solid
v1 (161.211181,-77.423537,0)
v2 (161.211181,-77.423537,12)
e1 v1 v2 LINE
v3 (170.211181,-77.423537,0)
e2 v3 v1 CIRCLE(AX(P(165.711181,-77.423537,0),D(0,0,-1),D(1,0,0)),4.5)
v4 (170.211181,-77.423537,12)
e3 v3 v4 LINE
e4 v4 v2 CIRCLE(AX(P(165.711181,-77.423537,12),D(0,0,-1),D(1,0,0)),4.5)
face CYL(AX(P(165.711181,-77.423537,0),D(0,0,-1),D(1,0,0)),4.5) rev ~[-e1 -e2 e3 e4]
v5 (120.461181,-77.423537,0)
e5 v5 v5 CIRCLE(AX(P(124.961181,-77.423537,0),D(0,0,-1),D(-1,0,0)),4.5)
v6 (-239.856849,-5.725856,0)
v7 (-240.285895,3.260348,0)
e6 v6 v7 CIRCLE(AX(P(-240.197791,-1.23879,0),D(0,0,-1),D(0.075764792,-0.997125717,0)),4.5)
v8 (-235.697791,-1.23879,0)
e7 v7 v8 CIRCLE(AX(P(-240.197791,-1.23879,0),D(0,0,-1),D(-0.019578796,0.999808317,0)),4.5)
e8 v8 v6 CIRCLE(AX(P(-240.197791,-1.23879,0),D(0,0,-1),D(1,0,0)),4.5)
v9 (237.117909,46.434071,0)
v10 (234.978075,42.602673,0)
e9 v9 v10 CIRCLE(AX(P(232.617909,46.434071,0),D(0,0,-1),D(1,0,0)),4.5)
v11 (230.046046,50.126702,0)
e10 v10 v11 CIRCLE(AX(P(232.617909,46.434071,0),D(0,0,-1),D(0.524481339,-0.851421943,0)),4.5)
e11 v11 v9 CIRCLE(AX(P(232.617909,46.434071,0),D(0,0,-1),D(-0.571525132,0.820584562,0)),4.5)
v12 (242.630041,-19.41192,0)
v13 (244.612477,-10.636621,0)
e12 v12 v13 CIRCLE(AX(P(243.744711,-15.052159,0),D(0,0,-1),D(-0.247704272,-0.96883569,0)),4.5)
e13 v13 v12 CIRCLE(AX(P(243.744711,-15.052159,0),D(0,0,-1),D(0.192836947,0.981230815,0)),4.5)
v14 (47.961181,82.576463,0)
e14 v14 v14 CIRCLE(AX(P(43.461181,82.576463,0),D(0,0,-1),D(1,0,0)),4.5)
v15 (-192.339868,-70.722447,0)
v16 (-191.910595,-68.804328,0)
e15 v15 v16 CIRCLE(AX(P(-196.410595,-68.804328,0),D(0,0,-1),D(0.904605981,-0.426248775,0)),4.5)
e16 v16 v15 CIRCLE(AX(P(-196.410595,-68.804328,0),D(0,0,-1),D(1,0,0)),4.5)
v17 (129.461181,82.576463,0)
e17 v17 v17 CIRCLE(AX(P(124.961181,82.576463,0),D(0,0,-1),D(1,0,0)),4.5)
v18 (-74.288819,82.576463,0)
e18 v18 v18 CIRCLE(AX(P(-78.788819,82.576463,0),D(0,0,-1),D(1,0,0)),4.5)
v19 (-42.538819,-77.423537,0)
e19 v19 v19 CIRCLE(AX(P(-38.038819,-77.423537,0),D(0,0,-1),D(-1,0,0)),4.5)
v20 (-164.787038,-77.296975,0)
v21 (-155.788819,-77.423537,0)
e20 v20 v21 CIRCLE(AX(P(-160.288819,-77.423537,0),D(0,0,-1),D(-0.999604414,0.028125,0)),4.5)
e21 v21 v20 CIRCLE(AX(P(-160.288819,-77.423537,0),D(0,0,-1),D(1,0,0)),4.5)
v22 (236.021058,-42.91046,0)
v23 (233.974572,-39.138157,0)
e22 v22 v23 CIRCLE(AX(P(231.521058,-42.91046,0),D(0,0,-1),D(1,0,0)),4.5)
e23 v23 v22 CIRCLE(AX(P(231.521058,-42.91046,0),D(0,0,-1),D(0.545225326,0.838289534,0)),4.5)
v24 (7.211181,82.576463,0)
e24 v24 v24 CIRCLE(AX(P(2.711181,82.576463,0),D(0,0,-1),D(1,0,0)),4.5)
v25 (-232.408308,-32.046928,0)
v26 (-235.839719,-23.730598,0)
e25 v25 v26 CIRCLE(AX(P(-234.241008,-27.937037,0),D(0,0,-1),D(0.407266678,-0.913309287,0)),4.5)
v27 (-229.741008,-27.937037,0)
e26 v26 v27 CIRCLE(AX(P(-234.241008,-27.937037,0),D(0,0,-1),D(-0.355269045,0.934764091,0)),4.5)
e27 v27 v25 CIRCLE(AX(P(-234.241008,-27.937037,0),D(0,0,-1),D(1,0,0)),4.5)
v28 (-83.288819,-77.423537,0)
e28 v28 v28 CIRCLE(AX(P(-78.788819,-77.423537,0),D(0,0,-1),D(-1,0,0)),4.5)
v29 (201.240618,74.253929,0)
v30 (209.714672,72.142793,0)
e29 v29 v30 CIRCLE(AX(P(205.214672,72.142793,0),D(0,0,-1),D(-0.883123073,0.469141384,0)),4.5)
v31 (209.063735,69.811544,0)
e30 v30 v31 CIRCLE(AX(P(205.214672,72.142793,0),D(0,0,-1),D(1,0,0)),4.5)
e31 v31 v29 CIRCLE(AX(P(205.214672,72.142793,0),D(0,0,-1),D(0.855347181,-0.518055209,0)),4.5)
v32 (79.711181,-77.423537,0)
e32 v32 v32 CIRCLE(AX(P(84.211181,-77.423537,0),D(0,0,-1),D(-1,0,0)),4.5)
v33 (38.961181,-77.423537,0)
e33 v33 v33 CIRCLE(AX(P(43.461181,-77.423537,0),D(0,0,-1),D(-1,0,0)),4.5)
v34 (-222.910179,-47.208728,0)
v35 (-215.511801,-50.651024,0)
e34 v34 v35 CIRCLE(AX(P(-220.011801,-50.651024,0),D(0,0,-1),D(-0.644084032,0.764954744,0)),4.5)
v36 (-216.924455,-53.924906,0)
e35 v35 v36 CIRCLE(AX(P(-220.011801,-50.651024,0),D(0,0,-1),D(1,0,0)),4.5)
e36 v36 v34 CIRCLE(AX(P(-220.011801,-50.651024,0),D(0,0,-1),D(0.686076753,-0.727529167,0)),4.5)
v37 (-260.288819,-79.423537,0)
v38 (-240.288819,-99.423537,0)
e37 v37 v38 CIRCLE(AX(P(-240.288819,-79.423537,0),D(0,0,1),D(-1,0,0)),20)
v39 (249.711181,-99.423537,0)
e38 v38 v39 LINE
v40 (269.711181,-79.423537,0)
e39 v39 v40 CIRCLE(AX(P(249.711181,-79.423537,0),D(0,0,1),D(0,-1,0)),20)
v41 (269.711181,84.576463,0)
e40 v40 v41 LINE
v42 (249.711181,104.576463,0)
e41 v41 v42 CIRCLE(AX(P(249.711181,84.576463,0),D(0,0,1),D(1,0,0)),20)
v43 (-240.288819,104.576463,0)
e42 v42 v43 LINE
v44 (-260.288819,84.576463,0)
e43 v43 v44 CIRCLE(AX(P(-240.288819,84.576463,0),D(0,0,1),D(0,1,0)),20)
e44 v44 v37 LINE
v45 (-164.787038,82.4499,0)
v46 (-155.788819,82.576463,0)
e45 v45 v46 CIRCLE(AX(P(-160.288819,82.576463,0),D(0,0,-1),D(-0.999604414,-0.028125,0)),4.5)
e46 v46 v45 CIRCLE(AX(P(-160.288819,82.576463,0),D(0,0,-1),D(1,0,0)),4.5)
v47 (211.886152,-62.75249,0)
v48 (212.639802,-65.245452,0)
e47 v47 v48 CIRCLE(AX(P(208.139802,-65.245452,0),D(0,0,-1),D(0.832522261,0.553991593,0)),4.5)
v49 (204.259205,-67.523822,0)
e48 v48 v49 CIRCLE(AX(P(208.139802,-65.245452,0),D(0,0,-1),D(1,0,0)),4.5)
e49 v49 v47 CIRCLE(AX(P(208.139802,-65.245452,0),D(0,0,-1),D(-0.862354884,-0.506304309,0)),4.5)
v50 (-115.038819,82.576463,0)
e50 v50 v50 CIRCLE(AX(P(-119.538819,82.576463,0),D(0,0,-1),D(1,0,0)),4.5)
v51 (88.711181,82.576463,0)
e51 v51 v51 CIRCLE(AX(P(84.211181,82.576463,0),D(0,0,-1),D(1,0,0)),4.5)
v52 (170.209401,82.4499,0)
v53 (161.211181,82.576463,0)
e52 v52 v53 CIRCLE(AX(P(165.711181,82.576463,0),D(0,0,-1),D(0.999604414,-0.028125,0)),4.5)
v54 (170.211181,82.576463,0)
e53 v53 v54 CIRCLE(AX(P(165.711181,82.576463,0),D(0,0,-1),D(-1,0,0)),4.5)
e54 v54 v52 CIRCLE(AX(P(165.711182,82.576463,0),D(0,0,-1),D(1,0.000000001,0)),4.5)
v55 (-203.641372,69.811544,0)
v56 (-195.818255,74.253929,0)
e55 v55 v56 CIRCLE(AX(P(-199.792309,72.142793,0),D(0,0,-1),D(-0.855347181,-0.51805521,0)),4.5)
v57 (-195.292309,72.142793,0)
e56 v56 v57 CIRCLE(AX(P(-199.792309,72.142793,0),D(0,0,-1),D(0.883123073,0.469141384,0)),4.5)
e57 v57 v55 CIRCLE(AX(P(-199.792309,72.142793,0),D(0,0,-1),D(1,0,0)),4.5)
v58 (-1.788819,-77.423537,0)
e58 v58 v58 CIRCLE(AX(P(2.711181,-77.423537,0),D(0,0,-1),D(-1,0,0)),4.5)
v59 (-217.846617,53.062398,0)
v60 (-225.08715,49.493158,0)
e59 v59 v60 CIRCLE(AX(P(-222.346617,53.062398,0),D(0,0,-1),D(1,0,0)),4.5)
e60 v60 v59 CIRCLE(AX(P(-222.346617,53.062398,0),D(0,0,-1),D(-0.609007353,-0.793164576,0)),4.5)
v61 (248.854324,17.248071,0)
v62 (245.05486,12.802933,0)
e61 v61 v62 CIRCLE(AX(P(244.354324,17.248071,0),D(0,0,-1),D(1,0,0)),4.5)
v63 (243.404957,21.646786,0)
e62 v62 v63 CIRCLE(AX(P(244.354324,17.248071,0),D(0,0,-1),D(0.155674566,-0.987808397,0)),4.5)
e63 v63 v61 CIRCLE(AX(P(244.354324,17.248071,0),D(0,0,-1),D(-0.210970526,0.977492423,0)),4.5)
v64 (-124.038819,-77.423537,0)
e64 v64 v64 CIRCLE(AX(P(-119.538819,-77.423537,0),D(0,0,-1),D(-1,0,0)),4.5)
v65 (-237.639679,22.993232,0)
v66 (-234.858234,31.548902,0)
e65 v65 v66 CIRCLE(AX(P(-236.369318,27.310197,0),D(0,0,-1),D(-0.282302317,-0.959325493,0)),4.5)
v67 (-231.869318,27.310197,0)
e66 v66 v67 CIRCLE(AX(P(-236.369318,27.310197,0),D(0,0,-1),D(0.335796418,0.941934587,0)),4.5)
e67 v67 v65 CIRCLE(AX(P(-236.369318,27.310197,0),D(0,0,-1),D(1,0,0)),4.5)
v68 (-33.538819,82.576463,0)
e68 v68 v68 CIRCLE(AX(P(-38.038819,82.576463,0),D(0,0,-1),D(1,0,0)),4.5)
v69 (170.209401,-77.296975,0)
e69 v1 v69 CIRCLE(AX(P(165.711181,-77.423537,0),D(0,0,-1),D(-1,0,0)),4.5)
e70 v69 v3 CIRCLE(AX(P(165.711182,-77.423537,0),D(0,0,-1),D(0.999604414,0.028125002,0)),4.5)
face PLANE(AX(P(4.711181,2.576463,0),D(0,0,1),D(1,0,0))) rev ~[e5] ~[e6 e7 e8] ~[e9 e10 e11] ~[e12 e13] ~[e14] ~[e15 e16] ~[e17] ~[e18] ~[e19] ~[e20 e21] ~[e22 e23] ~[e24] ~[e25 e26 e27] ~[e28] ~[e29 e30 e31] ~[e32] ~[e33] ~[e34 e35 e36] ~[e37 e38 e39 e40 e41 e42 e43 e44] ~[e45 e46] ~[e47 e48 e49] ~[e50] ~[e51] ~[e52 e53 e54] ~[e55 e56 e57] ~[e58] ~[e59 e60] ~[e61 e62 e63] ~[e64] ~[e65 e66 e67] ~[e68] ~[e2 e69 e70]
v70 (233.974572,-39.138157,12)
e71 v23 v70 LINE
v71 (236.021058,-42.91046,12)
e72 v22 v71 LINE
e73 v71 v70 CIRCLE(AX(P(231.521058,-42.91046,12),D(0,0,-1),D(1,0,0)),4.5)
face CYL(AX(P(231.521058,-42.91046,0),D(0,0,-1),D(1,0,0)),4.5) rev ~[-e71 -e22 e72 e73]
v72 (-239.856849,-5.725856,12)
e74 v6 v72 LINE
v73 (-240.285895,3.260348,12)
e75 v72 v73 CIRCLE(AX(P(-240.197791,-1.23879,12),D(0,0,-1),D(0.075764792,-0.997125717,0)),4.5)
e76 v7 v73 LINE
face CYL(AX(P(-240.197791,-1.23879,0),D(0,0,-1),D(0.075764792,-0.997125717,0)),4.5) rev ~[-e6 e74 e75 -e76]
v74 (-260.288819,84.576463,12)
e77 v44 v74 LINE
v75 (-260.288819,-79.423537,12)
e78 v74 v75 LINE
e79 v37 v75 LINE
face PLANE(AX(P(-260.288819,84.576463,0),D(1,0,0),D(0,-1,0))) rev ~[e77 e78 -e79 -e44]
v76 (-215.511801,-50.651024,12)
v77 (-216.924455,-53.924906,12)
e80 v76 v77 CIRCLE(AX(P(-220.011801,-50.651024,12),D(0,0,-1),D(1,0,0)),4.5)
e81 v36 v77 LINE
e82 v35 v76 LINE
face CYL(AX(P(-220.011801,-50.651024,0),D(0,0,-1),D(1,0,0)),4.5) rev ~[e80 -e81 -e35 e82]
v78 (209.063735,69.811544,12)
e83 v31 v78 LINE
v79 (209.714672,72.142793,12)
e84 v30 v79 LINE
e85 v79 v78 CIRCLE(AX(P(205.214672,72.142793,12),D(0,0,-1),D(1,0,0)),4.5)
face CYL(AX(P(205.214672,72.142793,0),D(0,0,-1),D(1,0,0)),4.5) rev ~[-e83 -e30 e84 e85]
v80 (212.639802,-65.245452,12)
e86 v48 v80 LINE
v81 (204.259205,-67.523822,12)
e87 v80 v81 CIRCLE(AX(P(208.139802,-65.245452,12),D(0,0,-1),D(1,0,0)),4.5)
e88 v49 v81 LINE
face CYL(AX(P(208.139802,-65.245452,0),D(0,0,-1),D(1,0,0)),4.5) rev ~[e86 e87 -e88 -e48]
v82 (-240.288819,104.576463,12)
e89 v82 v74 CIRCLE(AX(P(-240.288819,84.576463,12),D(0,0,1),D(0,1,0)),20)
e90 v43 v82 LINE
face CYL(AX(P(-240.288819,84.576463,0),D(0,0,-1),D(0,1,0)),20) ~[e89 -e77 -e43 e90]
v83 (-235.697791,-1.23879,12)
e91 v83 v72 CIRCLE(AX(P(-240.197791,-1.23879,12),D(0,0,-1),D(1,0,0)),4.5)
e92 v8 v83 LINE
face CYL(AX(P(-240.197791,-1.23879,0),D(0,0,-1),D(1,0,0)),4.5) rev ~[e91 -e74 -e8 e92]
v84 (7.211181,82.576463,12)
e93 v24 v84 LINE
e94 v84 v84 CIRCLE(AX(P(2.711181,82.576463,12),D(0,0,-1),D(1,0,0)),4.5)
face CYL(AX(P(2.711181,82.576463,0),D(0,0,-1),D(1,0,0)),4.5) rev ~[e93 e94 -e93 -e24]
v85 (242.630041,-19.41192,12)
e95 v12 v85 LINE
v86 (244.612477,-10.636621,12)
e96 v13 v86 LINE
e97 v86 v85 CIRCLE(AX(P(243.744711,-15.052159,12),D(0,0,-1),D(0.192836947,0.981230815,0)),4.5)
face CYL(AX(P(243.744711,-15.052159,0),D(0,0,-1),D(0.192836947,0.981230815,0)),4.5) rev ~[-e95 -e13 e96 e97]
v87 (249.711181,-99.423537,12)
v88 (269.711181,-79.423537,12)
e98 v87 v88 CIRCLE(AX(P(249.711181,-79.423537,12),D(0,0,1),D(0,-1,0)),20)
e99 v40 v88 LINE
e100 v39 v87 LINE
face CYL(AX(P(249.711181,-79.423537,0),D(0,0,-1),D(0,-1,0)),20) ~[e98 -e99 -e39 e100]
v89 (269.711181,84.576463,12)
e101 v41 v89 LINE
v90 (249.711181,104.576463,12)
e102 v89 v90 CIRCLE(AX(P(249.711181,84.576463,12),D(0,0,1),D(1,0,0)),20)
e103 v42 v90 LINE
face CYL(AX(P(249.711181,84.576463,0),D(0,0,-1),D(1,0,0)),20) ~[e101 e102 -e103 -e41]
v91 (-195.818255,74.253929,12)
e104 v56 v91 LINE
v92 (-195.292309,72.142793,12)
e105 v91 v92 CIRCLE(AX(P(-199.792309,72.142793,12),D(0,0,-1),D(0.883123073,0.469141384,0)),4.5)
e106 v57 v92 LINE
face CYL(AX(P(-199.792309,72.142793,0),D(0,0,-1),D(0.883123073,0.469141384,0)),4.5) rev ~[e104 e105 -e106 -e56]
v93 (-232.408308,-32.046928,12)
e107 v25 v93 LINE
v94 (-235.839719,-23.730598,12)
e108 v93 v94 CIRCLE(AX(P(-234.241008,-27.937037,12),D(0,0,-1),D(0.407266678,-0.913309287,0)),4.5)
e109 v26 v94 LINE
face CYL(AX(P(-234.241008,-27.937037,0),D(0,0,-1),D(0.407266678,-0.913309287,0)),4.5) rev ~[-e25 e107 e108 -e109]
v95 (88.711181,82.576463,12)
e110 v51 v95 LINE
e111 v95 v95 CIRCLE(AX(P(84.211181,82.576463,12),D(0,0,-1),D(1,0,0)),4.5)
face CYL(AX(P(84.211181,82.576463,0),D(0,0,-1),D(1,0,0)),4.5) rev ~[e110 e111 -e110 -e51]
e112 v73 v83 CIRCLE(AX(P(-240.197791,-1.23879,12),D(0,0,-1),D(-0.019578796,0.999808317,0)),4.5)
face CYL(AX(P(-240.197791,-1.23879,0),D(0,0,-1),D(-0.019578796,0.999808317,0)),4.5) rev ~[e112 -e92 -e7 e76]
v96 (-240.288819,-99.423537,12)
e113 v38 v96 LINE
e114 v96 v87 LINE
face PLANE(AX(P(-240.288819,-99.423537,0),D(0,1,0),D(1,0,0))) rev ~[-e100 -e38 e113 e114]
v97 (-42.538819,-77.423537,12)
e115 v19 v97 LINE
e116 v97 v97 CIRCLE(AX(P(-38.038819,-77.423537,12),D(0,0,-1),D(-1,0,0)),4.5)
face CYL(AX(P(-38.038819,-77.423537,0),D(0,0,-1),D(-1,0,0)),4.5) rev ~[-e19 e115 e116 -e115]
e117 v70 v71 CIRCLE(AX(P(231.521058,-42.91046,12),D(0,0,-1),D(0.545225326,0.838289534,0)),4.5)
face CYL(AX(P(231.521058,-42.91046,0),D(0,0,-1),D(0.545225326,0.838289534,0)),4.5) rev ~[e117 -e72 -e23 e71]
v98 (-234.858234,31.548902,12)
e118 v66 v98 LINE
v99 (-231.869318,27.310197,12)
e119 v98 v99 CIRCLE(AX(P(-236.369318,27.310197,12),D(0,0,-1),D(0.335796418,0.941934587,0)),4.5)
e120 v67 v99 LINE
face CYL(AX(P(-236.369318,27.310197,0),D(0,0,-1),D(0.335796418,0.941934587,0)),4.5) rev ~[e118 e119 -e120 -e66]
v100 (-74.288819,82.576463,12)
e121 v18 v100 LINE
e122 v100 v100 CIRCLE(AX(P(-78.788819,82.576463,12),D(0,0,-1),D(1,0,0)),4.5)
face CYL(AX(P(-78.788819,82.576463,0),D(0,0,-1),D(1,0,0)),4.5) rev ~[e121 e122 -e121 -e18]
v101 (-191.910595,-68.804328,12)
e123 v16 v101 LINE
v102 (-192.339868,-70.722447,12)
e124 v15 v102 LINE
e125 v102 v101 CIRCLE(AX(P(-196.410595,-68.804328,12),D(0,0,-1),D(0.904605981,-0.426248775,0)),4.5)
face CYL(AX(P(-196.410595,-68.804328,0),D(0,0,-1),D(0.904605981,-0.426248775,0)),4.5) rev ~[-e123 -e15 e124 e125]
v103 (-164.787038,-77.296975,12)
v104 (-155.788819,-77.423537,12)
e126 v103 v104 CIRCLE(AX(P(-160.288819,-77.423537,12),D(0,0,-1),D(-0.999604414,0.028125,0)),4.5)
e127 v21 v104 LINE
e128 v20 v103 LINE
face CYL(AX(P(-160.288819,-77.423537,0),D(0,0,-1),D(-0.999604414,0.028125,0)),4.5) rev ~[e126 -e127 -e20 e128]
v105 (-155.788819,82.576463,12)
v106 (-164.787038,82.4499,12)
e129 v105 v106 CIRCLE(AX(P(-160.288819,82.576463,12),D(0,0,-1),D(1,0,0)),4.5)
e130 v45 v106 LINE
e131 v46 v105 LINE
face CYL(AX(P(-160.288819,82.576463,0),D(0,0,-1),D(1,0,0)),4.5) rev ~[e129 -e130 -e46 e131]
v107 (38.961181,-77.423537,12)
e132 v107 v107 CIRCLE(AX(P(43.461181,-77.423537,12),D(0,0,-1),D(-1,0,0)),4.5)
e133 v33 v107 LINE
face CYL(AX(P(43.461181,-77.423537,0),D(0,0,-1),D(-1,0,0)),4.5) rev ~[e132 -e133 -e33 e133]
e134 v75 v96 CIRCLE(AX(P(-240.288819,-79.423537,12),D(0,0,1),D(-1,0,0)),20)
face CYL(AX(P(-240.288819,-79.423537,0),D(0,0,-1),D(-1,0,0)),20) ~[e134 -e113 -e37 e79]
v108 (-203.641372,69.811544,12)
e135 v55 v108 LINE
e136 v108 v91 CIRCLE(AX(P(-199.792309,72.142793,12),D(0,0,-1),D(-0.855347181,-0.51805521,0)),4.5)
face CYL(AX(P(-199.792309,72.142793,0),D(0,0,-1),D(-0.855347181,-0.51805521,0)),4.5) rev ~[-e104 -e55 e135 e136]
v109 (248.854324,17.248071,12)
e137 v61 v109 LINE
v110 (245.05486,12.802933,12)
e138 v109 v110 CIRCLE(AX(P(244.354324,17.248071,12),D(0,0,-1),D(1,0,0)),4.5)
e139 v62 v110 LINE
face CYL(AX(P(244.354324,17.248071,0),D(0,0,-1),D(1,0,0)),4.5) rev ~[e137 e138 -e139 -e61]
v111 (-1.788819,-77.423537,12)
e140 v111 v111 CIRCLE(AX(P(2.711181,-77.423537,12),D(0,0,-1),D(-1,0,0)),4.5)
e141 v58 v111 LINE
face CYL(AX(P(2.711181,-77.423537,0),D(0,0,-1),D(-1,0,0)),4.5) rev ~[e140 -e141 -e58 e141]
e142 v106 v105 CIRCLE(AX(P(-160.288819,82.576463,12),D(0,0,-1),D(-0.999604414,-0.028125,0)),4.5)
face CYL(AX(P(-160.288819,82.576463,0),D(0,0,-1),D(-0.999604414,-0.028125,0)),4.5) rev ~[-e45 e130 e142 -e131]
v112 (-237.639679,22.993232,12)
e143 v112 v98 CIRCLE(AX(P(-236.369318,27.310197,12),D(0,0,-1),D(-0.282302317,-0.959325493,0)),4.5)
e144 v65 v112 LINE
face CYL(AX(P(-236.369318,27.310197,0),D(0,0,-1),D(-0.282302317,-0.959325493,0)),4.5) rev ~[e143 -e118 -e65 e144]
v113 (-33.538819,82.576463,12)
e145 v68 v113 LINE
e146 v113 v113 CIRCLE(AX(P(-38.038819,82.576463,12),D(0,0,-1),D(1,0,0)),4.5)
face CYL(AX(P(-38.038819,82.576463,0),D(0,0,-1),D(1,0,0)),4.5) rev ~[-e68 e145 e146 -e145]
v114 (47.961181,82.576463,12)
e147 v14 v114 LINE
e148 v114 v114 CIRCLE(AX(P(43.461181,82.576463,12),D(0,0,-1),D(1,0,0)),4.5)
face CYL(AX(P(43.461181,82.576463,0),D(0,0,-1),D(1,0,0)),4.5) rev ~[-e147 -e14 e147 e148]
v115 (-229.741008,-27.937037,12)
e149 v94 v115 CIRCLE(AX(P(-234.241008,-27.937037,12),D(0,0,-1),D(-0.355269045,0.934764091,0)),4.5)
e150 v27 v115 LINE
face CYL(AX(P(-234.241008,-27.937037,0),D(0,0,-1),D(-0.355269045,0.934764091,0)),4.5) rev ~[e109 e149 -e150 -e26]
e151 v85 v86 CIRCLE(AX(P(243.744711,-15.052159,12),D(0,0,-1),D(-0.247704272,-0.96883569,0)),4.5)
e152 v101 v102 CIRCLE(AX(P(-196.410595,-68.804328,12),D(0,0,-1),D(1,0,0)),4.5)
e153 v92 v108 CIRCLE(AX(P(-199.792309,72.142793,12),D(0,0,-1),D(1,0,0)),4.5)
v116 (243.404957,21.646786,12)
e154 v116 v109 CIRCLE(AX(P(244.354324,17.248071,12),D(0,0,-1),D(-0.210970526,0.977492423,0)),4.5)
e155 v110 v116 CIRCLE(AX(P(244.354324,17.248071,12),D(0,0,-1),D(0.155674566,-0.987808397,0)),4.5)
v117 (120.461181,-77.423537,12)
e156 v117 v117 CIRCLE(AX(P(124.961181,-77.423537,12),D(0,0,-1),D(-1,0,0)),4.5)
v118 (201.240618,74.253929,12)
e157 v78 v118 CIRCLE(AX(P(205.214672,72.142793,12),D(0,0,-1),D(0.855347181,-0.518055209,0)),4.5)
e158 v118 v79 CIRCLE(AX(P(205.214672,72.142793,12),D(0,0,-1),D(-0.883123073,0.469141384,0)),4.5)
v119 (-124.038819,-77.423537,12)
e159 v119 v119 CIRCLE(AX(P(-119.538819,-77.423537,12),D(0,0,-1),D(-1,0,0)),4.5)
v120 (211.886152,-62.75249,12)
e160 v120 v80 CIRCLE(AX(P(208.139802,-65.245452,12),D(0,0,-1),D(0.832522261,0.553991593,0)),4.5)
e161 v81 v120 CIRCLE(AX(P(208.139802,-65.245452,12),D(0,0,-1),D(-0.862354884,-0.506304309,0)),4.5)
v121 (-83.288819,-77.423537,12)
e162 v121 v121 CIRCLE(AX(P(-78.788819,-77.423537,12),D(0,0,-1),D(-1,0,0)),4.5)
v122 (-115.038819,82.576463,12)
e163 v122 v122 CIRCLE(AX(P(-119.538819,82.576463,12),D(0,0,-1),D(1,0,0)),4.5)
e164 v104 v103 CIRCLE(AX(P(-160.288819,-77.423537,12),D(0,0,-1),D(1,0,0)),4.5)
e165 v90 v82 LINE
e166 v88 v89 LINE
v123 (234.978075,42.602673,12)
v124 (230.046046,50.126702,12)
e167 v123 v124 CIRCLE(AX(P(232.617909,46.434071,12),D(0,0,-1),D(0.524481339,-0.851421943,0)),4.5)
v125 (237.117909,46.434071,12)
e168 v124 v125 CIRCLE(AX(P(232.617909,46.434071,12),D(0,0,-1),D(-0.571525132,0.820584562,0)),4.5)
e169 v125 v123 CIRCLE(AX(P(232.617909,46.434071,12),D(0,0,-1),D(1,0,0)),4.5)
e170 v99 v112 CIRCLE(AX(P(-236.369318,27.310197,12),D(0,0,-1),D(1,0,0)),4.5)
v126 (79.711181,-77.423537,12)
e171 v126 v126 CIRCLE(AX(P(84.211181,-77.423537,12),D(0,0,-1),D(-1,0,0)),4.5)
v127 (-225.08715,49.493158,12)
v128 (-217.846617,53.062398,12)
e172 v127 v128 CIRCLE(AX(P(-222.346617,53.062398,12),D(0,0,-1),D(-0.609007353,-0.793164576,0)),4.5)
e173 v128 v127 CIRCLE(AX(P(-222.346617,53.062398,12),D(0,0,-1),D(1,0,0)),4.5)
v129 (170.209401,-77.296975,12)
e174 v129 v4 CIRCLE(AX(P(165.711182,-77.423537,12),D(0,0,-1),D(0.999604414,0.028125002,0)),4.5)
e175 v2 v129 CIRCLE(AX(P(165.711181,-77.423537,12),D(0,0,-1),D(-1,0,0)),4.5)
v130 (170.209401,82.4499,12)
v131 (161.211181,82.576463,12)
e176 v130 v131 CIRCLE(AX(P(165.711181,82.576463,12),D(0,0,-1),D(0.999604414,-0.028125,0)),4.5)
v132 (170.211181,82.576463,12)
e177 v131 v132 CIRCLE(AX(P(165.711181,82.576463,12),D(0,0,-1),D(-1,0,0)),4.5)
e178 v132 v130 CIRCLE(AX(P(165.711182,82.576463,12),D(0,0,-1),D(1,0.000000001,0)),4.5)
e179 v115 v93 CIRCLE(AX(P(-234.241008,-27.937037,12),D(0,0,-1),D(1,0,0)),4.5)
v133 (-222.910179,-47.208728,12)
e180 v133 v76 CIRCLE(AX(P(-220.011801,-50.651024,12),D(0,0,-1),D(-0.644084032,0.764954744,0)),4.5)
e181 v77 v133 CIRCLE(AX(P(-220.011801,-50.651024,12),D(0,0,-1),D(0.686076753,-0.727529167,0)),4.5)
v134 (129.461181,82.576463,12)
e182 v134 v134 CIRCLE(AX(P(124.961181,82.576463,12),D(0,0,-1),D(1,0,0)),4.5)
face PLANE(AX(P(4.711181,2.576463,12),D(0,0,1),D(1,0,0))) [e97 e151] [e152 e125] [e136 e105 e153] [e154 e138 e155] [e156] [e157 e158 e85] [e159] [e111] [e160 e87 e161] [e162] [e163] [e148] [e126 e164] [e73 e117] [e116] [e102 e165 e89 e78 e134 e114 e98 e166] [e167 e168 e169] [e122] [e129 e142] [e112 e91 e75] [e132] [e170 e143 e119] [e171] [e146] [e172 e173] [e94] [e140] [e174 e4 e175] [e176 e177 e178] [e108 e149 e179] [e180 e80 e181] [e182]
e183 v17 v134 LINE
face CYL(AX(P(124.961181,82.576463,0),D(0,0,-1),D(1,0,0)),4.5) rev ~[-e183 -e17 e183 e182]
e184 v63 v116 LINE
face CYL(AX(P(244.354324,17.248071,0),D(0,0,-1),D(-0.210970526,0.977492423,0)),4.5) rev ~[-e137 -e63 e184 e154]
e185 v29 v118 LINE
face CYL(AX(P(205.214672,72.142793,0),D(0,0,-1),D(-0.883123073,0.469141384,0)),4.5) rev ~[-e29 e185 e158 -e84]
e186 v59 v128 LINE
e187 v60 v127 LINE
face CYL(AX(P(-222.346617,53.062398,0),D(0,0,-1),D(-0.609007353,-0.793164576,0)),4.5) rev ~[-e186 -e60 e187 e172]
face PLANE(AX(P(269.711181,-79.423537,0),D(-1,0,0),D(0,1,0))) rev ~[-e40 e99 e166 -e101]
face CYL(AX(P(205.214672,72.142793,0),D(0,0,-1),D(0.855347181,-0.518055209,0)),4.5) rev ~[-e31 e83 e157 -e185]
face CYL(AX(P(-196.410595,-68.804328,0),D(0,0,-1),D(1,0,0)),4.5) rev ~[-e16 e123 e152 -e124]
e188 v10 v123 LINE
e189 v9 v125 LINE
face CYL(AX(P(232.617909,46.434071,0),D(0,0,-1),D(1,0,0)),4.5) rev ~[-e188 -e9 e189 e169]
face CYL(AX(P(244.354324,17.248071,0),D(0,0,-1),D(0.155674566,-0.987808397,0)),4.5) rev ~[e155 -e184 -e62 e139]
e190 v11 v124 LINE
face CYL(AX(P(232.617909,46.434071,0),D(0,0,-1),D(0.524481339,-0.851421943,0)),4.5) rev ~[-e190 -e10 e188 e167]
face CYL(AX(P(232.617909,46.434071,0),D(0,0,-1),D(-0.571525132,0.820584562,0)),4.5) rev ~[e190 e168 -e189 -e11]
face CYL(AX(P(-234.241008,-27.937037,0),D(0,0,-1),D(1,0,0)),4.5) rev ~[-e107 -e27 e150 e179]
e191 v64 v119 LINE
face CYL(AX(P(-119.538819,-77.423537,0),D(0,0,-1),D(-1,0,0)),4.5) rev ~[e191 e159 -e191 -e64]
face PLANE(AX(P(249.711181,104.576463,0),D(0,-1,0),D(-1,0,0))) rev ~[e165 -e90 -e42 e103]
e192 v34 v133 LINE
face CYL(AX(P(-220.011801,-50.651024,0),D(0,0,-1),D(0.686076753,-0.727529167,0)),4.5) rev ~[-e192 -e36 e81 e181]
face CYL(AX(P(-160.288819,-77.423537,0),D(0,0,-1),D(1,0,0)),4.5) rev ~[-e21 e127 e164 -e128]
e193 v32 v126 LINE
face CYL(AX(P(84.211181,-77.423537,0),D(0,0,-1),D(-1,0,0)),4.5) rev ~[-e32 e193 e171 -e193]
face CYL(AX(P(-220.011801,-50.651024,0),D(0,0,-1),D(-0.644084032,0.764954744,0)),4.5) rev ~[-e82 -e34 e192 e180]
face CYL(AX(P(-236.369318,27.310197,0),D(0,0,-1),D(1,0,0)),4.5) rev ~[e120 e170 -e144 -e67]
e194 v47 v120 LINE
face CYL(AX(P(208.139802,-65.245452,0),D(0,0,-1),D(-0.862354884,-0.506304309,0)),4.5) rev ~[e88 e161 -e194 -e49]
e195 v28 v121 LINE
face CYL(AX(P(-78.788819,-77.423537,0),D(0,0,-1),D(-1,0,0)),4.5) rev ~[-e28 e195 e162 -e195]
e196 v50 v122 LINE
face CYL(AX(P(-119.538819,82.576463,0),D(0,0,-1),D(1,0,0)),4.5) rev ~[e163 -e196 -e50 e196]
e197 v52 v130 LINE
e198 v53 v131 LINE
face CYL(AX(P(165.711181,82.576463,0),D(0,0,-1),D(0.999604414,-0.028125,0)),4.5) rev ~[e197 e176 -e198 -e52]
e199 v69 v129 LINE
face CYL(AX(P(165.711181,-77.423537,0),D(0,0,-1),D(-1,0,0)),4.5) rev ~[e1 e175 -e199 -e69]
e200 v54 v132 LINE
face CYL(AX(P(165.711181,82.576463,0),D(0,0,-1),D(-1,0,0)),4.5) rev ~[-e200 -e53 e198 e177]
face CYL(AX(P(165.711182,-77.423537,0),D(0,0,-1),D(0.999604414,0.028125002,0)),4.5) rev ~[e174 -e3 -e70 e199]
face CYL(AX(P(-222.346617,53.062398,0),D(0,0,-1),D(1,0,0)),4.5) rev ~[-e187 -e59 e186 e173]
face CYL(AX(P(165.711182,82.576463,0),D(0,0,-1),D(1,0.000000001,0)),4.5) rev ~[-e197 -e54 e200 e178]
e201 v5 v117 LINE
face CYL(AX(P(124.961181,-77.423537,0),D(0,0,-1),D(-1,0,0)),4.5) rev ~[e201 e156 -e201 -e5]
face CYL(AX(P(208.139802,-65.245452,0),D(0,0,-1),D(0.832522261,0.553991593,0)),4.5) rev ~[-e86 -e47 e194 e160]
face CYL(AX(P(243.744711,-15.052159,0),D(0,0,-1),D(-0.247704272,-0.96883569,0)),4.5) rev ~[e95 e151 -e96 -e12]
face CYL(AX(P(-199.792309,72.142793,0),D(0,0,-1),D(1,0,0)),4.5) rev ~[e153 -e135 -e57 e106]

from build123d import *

# Parameters (mm, degrees)
F1_DEPTH = 12


with BuildPart() as f1:
    # F0 (on Top) → F1 (new body)
    with BuildSketch(Plane.XY):
        with BuildLine():
            ThreePointArc((269.7111814663, 84.576462953), (263.85331709, 98.7185985767), (249.7111814663, 104.576462953))
            Line((249.7111814663, 104.576462953), (-240.2888185337, 104.576462953))
            ThreePointArc((-240.2888185337, 104.576462953), (-254.4309541574, 98.7185985767), (-260.2888185337, 84.576462953))
            Line((-260.2888185337, 84.576462953), (-260.2888185337, -79.423537047))
            ThreePointArc((-260.2888185337, -79.423537047), (-254.4309541574, -93.5656726707), (-240.2888185337, -99.423537047))
            Line((-240.2888185337, -99.423537047), (249.7111814663, -99.423537047))
            ThreePointArc((249.7111814663, -99.423537047), (263.85331709, -93.5656726707), (269.7111814663, -79.423537047))
            Line((269.7111814663, -79.423537047), (269.7111814663, 84.576462953))
        make_face()
        with BuildLine():
            ThreePointArc((204.2592047464, -67.5238216484), (187.7820534829, -74.3187684234), (170.209401329, -77.296974547))
            ThreePointArc((170.209401329, -77.296974547), (170.21073641, -77.3602495378), (170.2111814663, -77.423537047))
            ThreePointArc((170.2111814663, -77.423537047), (165.7111814663, -81.923537047), (161.2111814663, -77.423537047))
            Line((161.2111814663, -77.423537047), (129.4611814663, -77.423537047))
            ThreePointArc((129.4611814663, -77.423537047), (124.9611814663, -81.923537047), (120.4611814663, -77.423537047))
            Line((120.4611814663, -77.423537047), (88.7111814663, -77.423537047))
            ThreePointArc((88.7111814663, -77.423537047), (84.2111814663, -81.923537047), (79.7111814663, -77.423537047))
            Line((79.7111814663, -77.423537047), (47.9611814663, -77.423537047))
            ThreePointArc((47.9611814663, -77.423537047), (43.4611814663, -81.923537047), (38.9611814663, -77.423537047))
            Line((38.9611814663, -77.423537047), (7.2111814663, -77.423537047))
            ThreePointArc((7.2111814663, -77.423537047), (2.7111814663, -81.923537047), (-1.7888185337, -77.423537047))
            Line((-1.7888185337, -77.423537047), (-33.5388185337, -77.423537047))
            ThreePointArc((-33.5388185337, -77.423537047), (-38.0388185337, -81.923537047), (-42.5388185337, -77.423537047))
            Line((-42.5388185337, -77.423537047), (-74.2888185337, -77.423537047))
            ThreePointArc((-74.2888185337, -77.423537047), (-78.7888185337, -81.923537047), (-83.2888185337, -77.423537047))
            Line((-83.2888185337, -77.423537047), (-115.0388185337, -77.423537047))
            ThreePointArc((-115.0388185337, -77.423537047), (-119.5388185337, -81.923537047), (-124.0388185337, -77.423537047))
            Line((-124.0388185337, -77.423537047), (-155.7888185337, -77.423537047))
            ThreePointArc((-155.7888185337, -77.423537047), (-160.3521060429, -81.9230919907), (-164.7870383965, -77.296974547))
            ThreePointArc((-164.7870383965, -77.296974547), (-178.856757772, -75.2389059174), (-192.3398676419, -70.7224473463))
            ThreePointArc((-192.3398676419, -70.7224473463), (-198.4424444599, -72.8194973412), (-200.3670299181, -66.6603550865))
            ThreePointArc((-200.3670299181, -66.6603550865), (-209.0631972198, -60.8353654687), (-216.9244551496, -53.9249057482))
            ThreePointArc((-216.9244551496, -53.9249057482), (-223.3712182775, -53.6450706668), (-222.910178682, -47.2087281501))
            ThreePointArc((-222.910178682, -47.2087281501), (-228.0844244719, -39.8941835628), (-232.4083080485, -32.0469284483))
            ThreePointArc((-232.4083080485, -32.0469284483), (-238.4008187619, -29.6534210114), (-235.8397187993, -23.7305982484))
            ThreePointArc((-235.8397187993, -23.7305982484), (-238.3689912687, -14.8444045821), (-239.8568492175, -5.7258555844))
            ThreePointArc((-239.8568492175, -5.7258555844), (-244.6926704724, -1.4533978268), (-240.2858953667, 3.2603475702))
            ThreePointArc((-240.2858953667, 3.2603475702), (-239.5790448432, 13.209431108), (-237.6396785358, 22.9932319661))
            ThreePointArc((-237.6396785358, 22.9932319661), (-240.6488462104, 28.7014692077), (-234.858234227, 31.548902325))
            ThreePointArc((-234.858234227, 31.548902325), (-230.54791978, 40.8342555195), (-225.0871499348, 49.4931577176))
            ThreePointArc((-225.0871499348, 49.4931577176), (-225.8373680011, 55.9022321713), (-219.4097290048, 56.4718982428))
            ThreePointArc((-219.4097290048, 56.4718982428), (-211.9578539541, 63.65273313), (-203.641371616, 69.8115441327))
            ThreePointArc((-203.641371616, 69.8115441327), (-202.0143806576, 76.0558986167), (-195.8182554739, 74.2539288033))
            ThreePointArc((-195.8182554739, 74.2539288033), (-180.7178864298, 79.9240756175), (-164.7870383965, 82.449900453))
            ThreePointArc((-164.7870383965, 82.449900453), (-160.3521060429, 87.0760178967), (-155.7888185337, 82.576462953))
            Line((-155.7888185337, 82.576462953), (-124.0388185337, 82.576462953))
            ThreePointArc((-124.0388185337, 82.576462953), (-119.5388185337, 87.076462953), (-115.0388185337, 82.576462953))
            Line((-115.0388185337, 82.576462953), (-83.2888185337, 82.576462953))
            ThreePointArc((-83.2888185337, 82.576462953), (-78.7888185337, 87.076462953), (-74.2888185337, 82.576462953))
            Line((-74.2888185337, 82.576462953), (-42.5388185337, 82.576462953))
            ThreePointArc((-42.5388185337, 82.576462953), (-38.0388185337, 87.076462953), (-33.5388185337, 82.576462953))
            Line((-33.5388185337, 82.576462953), (-1.7888185337, 82.576462953))
            ThreePointArc((-1.7888185337, 82.576462953), (2.7111814663, 87.076462953), (7.2111814663, 82.576462953))
            Line((7.2111814663, 82.576462953), (38.9611814663, 82.576462953))
            ThreePointArc((38.9611814663, 82.576462953), (43.4611814663, 87.076462953), (47.9611814663, 82.576462953))
            Line((47.9611814663, 82.576462953), (79.7111814663, 82.576462953))
            ThreePointArc((79.7111814663, 82.576462953), (84.2111814663, 87.076462953), (88.7111814663, 82.576462953))
            Line((88.7111814663, 82.576462953), (120.4611814663, 82.576462953))
            ThreePointArc((120.4611814663, 82.576462953), (124.9611814663, 87.076462953), (129.4611814663, 82.576462953))
            Line((129.4611814663, 82.576462953), (161.2111814663, 82.576462953))
            ThreePointArc((161.2111814663, 82.576462953), (165.7111814663, 87.076462953), (170.2111814663, 82.576462953))
            ThreePointArc((170.2111814663, 82.576462953), (170.21073641, 82.5131754438), (170.209401329, 82.449900453))
            ThreePointArc((170.209401329, 82.449900453), (186.1402493624, 79.9240756175), (201.2406184065, 74.2539288033))
            ThreePointArc((201.2406184065, 74.2539288033), (206.3025044306, 76.5093267975), (209.7146722344, 72.1427925754))
            ThreePointArc((209.7146722344, 72.1427925754), (209.548883836, 70.9325819355), (209.0637345486, 69.8115441327))
            ThreePointArc((209.0637345486, 69.8115441327), (220.4470767175, 60.920115316), (230.0460459315, 50.1267017983))
            ThreePointArc((230.0460459315, 50.1267017983), (234.700769568, 50.4230174915), (237.1179090261, 46.4340712694))
            ThreePointArc((237.1179090261, 46.4340712694), (236.546696824, 44.2398455656), (234.978075053, 42.6026725268))
            ThreePointArc((234.978075053, 42.6026725268), (239.9348088399, 32.4236259589), (243.4049570386, 21.6467864249))
            ThreePointArc((243.4049570386, 21.6467864249), (247.1807927716, 20.7496525315), (248.8543244056, 17.2480705211))
            ThreePointArc((248.8543244056, 17.2480705211), (247.7750268162, 14.3242382724), (245.0548599531, 12.8029327339))
            ThreePointArc((245.0548599531, 12.8029327339), (245.6969371267, 1.0668631961), (244.6124768813, -10.6366207839))
            ThreePointArc((244.6124768813, -10.6366207839), (247.2199766655, -12.1933964467), (248.2447106198, -15.0521594505))
            ThreePointArc((248.2447106198, -15.0521594505), (246.5046008793, -18.6064534388), (242.6300413951, -19.4119200539))
            ThreePointArc((242.6300413951, -19.4119200539), (238.9693043271, -29.5677034681), (233.9745719527, -39.1381570176))
            ThreePointArc((233.9745719527, -39.1381570176), (235.476485449, -40.7646282491), (236.0210579843, -42.9104599226))
            ThreePointArc((236.0210579843, -42.9104599226), (233.5547943992, -46.9246741912), (228.8593174534, -46.5388393606))
            ThreePointArc((228.8593174534, -46.5388393606), (220.9706242506, -55.2715619326), (211.8861518996, -62.7524900883))
            ThreePointArc((211.8861518996, -62.7524900883), (212.4472705758, -63.9432571457), (212.6398017261, -65.2454522577))
            ThreePointArc((212.6398017261, -65.2454522577), (209.3203341465, -69.5878413702), (204.2592047464, -67.5238216484))
        make_face(mode=Mode.SUBTRACT)
        with BuildLine():
            ThreePointArc((161.2111814663, -77.423537047), (165.6478939571, -72.9239821033), (170.209401329, -77.296974547))
            ThreePointArc((170.209401329, -77.296974547), (187.7820534829, -74.3187684234), (204.2592047464, -67.5238216484))
            ThreePointArc((204.2592047464, -67.5238216484), (205.7531918365, -61.4304695271), (211.8861518996, -62.7524900883))
            ThreePointArc((211.8861518996, -62.7524900883), (220.9706242506, -55.2715619326), (228.8593174534, -46.5388393606))
            ThreePointArc((228.8593174534, -46.5388393606), (227.8192524301, -40.3518205108), (233.9745719527, -39.1381570176))
            ThreePointArc((233.9745719527, -39.1381570176), (238.9693043271, -29.5677034681), (242.6300413951, -19.4119200539))
            ThreePointArc((242.6300413951, -19.4119200539), (239.3553246049, -14.0605494403), (244.6124768813, -10.6366207839))
            ThreePointArc((244.6124768813, -10.6366207839), (245.6969371267, 1.0668631961), (245.0548599531, 12.8029327339))
            ThreePointArc((245.0548599531, 12.8029327339), (239.9306476152, 16.4227925953), (243.4049570386, 21.6467864249))
            ThreePointArc((243.4049570386, 21.6467864249), (239.9348088399, 32.4236259589), (234.978075053, 42.6026725268))
            ThreePointArc((234.978075053, 42.6026725268), (228.8544056009, 43.9670808016), (230.0460459315, 50.1267017983))
            ThreePointArc((230.0460459315, 50.1267017983), (220.4470767175, 60.920115316), (209.0637345486, 69.8115441327))
            ThreePointArc((209.0637345486, 69.8115441327), (202.9926008787, 68.2296865342), (201.2406184065, 74.2539288033))
            ThreePointArc((201.2406184065, 74.2539288033), (186.1402493624, 79.9240756175), (170.209401329, 82.449900453))
            ThreePointArc((170.209401329, 82.449900453), (165.6478939571, 78.0769080093), (161.2111814663, 82.576462953))
            Line((161.2111814663, 82.576462953), (129.4611814663, 82.576462953))
            ThreePointArc((129.4611814663, 82.576462953), (124.9611814663, 78.076462953), (120.4611814663, 82.576462953))
            Line((120.4611814663, 82.576462953), (88.7111814663, 82.576462953))
            ThreePointArc((88.7111814663, 82.576462953), (84.2111814663, 78.076462953), (79.7111814663, 82.576462953))
            Line((79.7111814663, 82.576462953), (47.9611814663, 82.576462953))
            ThreePointArc((47.9611814663, 82.576462953), (43.4611814663, 78.076462953), (38.9611814663, 82.576462953))
            Line((38.9611814663, 82.576462953), (7.2111814663, 82.576462953))
            ThreePointArc((7.2111814663, 82.576462953), (2.7111814663, 78.076462953), (-1.7888185337, 82.576462953))
            Line((-1.7888185337, 82.576462953), (-33.5388185337, 82.576462953))
            ThreePointArc((-33.5388185337, 82.576462953), (-38.0388185337, 78.076462953), (-42.5388185337, 82.576462953))
            Line((-42.5388185337, 82.576462953), (-74.2888185337, 82.576462953))
            ThreePointArc((-74.2888185337, 82.576462953), (-78.7888185337, 78.076462953), (-83.2888185337, 82.576462953))
            Line((-83.2888185337, 82.576462953), (-115.0388185337, 82.576462953))
            ThreePointArc((-115.0388185337, 82.576462953), (-119.5388185337, 78.076462953), (-124.0388185337, 82.576462953))
            Line((-124.0388185337, 82.576462953), (-155.7888185337, 82.576462953))
            ThreePointArc((-155.7888185337, 82.576462953), (-160.2255310245, 78.0769080093), (-164.7870383965, 82.449900453))
            ThreePointArc((-164.7870383965, 82.449900453), (-180.7178864298, 79.9240756175), (-195.8182554739, 74.2539288033))
            ThreePointArc((-195.8182554739, 74.2539288033), (-195.4257750797, 73.2306247716), (-195.2923093019, 72.1427925754))
            ThreePointArc((-195.2923093019, 72.1427925754), (-198.5820986619, 67.8085809739), (-203.641371616, 69.8115441327))
            ThreePointArc((-203.641371616, 69.8115441327), (-211.9578539541, 63.65273313), (-219.4097290048, 56.4718982428))
            ThreePointArc((-219.4097290048, 56.4718982428), (-218.256018156, 54.9377655669), (-217.846616846, 53.0623983076))
            ThreePointArc((-217.846616846, 53.0623983076), (-220.3569433677, 49.0261625056), (-225.0871499348, 49.4931577176))
            ThreePointArc((-225.0871499348, 49.4931577176), (-230.54791978, 40.8342555195), (-234.858234227, 31.548902325))
            ThreePointArc((-234.858234227, 31.548902325), (-232.691691329, 29.9034689935), (-231.8693181092, 27.3101966853))
            ThreePointArc((-231.8693181092, 27.3101966853), (-233.6736384101, 23.7069605065), (-237.6396785358, 22.9932319661))
            ThreePointArc((-237.6396785358, 22.9932319661), (-239.5790448432, 13.209431108), (-240.2858953667, 3.2603475702))
            ThreePointArc((-240.2858953667, 3.2603475702), (-237.0471139216, 1.9741893395), (-235.6977907834, -1.2387898562))
            ThreePointArc((-235.6977907834, -1.2387898562), (-236.8974698107, -4.2978553143), (-239.8568492175, -5.7258555844))
            ThreePointArc((-239.8568492175, -5.7258555844), (-238.3689912687, -14.8444045821), (-235.8397187993, -23.7305982484))
            ThreePointArc((-235.8397187993, -23.7305982484), (-231.68603238, -24.2327014849), (-229.7410080988, -27.9370366582))
            ThreePointArc((-229.7410080988, -27.9370366582), (-230.4662796168, -30.3868172376), (-232.4083080485, -32.0469284483))
            ThreePointArc((-232.4083080485, -32.0469284483), (-228.0844244719, -39.8941835628), (-222.910178682, -47.2087281501))
            ThreePointArc((-222.910178682, -47.2087281501), (-218.1134725439, -46.5710305246), (-215.5118005397, -50.6510244977))
            ThreePointArc((-215.5118005397, -50.6510244977), (-215.8800300805, -52.4338517109), (-216.9244551496, -53.9249057482))
            ThreePointArc((-216.9244551496, -53.9249057482), (-209.0631972198, -60.8353654687), (-200.3670299181, -66.6603550865))
            ThreePointArc((-200.3670299181, -66.6603550865), (-195.3046920126, -64.4423352447), (-191.9105945585, -68.8043278581))
            ThreePointArc((-191.9105945585, -68.8043278581), (-192.0192239795, -69.7871118821), (-192.3398676419, -70.7224473463))
            ThreePointArc((-192.3398676419, -70.7224473463), (-178.856757772, -75.2389059174), (-164.7870383965, -77.296974547))
            ThreePointArc((-164.7870383965, -77.296974547), (-160.2255310245, -72.9239821033), (-155.7888185337, -77.423537047))
            Line((-155.7888185337, -77.423537047), (-124.0388185337, -77.423537047))
            ThreePointArc((-124.0388185337, -77.423537047), (-119.5388185337, -72.923537047), (-115.0388185337, -77.423537047))
            Line((-115.0388185337, -77.423537047), (-83.2888185337, -77.423537047))
            ThreePointArc((-83.2888185337, -77.423537047), (-78.7888185337, -72.923537047), (-74.2888185337, -77.423537047))
            Line((-74.2888185337, -77.423537047), (-42.5388185337, -77.423537047))
            ThreePointArc((-42.5388185337, -77.423537047), (-38.0388185337, -72.923537047), (-33.5388185337, -77.423537047))
            Line((-33.5388185337, -77.423537047), (-1.7888185337, -77.423537047))
            ThreePointArc((-1.7888185337, -77.423537047), (2.7111814663, -72.923537047), (7.2111814663, -77.423537047))
            Line((7.2111814663, -77.423537047), (38.9611814663, -77.423537047))
            ThreePointArc((38.9611814663, -77.423537047), (43.4611814663, -72.923537047), (47.9611814663, -77.423537047))
            Line((47.9611814663, -77.423537047), (79.7111814663, -77.423537047))
            ThreePointArc((79.7111814663, -77.423537047), (84.2111814663, -72.923537047), (88.7111814663, -77.423537047))
            Line((88.7111814663, -77.423537047), (120.4611814663, -77.423537047))
            ThreePointArc((120.4611814663, -77.423537047), (124.9611814663, -72.923537047), (129.4611814663, -77.423537047))
            Line((129.4611814663, -77.423537047), (161.2111814663, -77.423537047))
        make_face()
    extrude(amount=F1_DEPTH)


solid = f1.part
